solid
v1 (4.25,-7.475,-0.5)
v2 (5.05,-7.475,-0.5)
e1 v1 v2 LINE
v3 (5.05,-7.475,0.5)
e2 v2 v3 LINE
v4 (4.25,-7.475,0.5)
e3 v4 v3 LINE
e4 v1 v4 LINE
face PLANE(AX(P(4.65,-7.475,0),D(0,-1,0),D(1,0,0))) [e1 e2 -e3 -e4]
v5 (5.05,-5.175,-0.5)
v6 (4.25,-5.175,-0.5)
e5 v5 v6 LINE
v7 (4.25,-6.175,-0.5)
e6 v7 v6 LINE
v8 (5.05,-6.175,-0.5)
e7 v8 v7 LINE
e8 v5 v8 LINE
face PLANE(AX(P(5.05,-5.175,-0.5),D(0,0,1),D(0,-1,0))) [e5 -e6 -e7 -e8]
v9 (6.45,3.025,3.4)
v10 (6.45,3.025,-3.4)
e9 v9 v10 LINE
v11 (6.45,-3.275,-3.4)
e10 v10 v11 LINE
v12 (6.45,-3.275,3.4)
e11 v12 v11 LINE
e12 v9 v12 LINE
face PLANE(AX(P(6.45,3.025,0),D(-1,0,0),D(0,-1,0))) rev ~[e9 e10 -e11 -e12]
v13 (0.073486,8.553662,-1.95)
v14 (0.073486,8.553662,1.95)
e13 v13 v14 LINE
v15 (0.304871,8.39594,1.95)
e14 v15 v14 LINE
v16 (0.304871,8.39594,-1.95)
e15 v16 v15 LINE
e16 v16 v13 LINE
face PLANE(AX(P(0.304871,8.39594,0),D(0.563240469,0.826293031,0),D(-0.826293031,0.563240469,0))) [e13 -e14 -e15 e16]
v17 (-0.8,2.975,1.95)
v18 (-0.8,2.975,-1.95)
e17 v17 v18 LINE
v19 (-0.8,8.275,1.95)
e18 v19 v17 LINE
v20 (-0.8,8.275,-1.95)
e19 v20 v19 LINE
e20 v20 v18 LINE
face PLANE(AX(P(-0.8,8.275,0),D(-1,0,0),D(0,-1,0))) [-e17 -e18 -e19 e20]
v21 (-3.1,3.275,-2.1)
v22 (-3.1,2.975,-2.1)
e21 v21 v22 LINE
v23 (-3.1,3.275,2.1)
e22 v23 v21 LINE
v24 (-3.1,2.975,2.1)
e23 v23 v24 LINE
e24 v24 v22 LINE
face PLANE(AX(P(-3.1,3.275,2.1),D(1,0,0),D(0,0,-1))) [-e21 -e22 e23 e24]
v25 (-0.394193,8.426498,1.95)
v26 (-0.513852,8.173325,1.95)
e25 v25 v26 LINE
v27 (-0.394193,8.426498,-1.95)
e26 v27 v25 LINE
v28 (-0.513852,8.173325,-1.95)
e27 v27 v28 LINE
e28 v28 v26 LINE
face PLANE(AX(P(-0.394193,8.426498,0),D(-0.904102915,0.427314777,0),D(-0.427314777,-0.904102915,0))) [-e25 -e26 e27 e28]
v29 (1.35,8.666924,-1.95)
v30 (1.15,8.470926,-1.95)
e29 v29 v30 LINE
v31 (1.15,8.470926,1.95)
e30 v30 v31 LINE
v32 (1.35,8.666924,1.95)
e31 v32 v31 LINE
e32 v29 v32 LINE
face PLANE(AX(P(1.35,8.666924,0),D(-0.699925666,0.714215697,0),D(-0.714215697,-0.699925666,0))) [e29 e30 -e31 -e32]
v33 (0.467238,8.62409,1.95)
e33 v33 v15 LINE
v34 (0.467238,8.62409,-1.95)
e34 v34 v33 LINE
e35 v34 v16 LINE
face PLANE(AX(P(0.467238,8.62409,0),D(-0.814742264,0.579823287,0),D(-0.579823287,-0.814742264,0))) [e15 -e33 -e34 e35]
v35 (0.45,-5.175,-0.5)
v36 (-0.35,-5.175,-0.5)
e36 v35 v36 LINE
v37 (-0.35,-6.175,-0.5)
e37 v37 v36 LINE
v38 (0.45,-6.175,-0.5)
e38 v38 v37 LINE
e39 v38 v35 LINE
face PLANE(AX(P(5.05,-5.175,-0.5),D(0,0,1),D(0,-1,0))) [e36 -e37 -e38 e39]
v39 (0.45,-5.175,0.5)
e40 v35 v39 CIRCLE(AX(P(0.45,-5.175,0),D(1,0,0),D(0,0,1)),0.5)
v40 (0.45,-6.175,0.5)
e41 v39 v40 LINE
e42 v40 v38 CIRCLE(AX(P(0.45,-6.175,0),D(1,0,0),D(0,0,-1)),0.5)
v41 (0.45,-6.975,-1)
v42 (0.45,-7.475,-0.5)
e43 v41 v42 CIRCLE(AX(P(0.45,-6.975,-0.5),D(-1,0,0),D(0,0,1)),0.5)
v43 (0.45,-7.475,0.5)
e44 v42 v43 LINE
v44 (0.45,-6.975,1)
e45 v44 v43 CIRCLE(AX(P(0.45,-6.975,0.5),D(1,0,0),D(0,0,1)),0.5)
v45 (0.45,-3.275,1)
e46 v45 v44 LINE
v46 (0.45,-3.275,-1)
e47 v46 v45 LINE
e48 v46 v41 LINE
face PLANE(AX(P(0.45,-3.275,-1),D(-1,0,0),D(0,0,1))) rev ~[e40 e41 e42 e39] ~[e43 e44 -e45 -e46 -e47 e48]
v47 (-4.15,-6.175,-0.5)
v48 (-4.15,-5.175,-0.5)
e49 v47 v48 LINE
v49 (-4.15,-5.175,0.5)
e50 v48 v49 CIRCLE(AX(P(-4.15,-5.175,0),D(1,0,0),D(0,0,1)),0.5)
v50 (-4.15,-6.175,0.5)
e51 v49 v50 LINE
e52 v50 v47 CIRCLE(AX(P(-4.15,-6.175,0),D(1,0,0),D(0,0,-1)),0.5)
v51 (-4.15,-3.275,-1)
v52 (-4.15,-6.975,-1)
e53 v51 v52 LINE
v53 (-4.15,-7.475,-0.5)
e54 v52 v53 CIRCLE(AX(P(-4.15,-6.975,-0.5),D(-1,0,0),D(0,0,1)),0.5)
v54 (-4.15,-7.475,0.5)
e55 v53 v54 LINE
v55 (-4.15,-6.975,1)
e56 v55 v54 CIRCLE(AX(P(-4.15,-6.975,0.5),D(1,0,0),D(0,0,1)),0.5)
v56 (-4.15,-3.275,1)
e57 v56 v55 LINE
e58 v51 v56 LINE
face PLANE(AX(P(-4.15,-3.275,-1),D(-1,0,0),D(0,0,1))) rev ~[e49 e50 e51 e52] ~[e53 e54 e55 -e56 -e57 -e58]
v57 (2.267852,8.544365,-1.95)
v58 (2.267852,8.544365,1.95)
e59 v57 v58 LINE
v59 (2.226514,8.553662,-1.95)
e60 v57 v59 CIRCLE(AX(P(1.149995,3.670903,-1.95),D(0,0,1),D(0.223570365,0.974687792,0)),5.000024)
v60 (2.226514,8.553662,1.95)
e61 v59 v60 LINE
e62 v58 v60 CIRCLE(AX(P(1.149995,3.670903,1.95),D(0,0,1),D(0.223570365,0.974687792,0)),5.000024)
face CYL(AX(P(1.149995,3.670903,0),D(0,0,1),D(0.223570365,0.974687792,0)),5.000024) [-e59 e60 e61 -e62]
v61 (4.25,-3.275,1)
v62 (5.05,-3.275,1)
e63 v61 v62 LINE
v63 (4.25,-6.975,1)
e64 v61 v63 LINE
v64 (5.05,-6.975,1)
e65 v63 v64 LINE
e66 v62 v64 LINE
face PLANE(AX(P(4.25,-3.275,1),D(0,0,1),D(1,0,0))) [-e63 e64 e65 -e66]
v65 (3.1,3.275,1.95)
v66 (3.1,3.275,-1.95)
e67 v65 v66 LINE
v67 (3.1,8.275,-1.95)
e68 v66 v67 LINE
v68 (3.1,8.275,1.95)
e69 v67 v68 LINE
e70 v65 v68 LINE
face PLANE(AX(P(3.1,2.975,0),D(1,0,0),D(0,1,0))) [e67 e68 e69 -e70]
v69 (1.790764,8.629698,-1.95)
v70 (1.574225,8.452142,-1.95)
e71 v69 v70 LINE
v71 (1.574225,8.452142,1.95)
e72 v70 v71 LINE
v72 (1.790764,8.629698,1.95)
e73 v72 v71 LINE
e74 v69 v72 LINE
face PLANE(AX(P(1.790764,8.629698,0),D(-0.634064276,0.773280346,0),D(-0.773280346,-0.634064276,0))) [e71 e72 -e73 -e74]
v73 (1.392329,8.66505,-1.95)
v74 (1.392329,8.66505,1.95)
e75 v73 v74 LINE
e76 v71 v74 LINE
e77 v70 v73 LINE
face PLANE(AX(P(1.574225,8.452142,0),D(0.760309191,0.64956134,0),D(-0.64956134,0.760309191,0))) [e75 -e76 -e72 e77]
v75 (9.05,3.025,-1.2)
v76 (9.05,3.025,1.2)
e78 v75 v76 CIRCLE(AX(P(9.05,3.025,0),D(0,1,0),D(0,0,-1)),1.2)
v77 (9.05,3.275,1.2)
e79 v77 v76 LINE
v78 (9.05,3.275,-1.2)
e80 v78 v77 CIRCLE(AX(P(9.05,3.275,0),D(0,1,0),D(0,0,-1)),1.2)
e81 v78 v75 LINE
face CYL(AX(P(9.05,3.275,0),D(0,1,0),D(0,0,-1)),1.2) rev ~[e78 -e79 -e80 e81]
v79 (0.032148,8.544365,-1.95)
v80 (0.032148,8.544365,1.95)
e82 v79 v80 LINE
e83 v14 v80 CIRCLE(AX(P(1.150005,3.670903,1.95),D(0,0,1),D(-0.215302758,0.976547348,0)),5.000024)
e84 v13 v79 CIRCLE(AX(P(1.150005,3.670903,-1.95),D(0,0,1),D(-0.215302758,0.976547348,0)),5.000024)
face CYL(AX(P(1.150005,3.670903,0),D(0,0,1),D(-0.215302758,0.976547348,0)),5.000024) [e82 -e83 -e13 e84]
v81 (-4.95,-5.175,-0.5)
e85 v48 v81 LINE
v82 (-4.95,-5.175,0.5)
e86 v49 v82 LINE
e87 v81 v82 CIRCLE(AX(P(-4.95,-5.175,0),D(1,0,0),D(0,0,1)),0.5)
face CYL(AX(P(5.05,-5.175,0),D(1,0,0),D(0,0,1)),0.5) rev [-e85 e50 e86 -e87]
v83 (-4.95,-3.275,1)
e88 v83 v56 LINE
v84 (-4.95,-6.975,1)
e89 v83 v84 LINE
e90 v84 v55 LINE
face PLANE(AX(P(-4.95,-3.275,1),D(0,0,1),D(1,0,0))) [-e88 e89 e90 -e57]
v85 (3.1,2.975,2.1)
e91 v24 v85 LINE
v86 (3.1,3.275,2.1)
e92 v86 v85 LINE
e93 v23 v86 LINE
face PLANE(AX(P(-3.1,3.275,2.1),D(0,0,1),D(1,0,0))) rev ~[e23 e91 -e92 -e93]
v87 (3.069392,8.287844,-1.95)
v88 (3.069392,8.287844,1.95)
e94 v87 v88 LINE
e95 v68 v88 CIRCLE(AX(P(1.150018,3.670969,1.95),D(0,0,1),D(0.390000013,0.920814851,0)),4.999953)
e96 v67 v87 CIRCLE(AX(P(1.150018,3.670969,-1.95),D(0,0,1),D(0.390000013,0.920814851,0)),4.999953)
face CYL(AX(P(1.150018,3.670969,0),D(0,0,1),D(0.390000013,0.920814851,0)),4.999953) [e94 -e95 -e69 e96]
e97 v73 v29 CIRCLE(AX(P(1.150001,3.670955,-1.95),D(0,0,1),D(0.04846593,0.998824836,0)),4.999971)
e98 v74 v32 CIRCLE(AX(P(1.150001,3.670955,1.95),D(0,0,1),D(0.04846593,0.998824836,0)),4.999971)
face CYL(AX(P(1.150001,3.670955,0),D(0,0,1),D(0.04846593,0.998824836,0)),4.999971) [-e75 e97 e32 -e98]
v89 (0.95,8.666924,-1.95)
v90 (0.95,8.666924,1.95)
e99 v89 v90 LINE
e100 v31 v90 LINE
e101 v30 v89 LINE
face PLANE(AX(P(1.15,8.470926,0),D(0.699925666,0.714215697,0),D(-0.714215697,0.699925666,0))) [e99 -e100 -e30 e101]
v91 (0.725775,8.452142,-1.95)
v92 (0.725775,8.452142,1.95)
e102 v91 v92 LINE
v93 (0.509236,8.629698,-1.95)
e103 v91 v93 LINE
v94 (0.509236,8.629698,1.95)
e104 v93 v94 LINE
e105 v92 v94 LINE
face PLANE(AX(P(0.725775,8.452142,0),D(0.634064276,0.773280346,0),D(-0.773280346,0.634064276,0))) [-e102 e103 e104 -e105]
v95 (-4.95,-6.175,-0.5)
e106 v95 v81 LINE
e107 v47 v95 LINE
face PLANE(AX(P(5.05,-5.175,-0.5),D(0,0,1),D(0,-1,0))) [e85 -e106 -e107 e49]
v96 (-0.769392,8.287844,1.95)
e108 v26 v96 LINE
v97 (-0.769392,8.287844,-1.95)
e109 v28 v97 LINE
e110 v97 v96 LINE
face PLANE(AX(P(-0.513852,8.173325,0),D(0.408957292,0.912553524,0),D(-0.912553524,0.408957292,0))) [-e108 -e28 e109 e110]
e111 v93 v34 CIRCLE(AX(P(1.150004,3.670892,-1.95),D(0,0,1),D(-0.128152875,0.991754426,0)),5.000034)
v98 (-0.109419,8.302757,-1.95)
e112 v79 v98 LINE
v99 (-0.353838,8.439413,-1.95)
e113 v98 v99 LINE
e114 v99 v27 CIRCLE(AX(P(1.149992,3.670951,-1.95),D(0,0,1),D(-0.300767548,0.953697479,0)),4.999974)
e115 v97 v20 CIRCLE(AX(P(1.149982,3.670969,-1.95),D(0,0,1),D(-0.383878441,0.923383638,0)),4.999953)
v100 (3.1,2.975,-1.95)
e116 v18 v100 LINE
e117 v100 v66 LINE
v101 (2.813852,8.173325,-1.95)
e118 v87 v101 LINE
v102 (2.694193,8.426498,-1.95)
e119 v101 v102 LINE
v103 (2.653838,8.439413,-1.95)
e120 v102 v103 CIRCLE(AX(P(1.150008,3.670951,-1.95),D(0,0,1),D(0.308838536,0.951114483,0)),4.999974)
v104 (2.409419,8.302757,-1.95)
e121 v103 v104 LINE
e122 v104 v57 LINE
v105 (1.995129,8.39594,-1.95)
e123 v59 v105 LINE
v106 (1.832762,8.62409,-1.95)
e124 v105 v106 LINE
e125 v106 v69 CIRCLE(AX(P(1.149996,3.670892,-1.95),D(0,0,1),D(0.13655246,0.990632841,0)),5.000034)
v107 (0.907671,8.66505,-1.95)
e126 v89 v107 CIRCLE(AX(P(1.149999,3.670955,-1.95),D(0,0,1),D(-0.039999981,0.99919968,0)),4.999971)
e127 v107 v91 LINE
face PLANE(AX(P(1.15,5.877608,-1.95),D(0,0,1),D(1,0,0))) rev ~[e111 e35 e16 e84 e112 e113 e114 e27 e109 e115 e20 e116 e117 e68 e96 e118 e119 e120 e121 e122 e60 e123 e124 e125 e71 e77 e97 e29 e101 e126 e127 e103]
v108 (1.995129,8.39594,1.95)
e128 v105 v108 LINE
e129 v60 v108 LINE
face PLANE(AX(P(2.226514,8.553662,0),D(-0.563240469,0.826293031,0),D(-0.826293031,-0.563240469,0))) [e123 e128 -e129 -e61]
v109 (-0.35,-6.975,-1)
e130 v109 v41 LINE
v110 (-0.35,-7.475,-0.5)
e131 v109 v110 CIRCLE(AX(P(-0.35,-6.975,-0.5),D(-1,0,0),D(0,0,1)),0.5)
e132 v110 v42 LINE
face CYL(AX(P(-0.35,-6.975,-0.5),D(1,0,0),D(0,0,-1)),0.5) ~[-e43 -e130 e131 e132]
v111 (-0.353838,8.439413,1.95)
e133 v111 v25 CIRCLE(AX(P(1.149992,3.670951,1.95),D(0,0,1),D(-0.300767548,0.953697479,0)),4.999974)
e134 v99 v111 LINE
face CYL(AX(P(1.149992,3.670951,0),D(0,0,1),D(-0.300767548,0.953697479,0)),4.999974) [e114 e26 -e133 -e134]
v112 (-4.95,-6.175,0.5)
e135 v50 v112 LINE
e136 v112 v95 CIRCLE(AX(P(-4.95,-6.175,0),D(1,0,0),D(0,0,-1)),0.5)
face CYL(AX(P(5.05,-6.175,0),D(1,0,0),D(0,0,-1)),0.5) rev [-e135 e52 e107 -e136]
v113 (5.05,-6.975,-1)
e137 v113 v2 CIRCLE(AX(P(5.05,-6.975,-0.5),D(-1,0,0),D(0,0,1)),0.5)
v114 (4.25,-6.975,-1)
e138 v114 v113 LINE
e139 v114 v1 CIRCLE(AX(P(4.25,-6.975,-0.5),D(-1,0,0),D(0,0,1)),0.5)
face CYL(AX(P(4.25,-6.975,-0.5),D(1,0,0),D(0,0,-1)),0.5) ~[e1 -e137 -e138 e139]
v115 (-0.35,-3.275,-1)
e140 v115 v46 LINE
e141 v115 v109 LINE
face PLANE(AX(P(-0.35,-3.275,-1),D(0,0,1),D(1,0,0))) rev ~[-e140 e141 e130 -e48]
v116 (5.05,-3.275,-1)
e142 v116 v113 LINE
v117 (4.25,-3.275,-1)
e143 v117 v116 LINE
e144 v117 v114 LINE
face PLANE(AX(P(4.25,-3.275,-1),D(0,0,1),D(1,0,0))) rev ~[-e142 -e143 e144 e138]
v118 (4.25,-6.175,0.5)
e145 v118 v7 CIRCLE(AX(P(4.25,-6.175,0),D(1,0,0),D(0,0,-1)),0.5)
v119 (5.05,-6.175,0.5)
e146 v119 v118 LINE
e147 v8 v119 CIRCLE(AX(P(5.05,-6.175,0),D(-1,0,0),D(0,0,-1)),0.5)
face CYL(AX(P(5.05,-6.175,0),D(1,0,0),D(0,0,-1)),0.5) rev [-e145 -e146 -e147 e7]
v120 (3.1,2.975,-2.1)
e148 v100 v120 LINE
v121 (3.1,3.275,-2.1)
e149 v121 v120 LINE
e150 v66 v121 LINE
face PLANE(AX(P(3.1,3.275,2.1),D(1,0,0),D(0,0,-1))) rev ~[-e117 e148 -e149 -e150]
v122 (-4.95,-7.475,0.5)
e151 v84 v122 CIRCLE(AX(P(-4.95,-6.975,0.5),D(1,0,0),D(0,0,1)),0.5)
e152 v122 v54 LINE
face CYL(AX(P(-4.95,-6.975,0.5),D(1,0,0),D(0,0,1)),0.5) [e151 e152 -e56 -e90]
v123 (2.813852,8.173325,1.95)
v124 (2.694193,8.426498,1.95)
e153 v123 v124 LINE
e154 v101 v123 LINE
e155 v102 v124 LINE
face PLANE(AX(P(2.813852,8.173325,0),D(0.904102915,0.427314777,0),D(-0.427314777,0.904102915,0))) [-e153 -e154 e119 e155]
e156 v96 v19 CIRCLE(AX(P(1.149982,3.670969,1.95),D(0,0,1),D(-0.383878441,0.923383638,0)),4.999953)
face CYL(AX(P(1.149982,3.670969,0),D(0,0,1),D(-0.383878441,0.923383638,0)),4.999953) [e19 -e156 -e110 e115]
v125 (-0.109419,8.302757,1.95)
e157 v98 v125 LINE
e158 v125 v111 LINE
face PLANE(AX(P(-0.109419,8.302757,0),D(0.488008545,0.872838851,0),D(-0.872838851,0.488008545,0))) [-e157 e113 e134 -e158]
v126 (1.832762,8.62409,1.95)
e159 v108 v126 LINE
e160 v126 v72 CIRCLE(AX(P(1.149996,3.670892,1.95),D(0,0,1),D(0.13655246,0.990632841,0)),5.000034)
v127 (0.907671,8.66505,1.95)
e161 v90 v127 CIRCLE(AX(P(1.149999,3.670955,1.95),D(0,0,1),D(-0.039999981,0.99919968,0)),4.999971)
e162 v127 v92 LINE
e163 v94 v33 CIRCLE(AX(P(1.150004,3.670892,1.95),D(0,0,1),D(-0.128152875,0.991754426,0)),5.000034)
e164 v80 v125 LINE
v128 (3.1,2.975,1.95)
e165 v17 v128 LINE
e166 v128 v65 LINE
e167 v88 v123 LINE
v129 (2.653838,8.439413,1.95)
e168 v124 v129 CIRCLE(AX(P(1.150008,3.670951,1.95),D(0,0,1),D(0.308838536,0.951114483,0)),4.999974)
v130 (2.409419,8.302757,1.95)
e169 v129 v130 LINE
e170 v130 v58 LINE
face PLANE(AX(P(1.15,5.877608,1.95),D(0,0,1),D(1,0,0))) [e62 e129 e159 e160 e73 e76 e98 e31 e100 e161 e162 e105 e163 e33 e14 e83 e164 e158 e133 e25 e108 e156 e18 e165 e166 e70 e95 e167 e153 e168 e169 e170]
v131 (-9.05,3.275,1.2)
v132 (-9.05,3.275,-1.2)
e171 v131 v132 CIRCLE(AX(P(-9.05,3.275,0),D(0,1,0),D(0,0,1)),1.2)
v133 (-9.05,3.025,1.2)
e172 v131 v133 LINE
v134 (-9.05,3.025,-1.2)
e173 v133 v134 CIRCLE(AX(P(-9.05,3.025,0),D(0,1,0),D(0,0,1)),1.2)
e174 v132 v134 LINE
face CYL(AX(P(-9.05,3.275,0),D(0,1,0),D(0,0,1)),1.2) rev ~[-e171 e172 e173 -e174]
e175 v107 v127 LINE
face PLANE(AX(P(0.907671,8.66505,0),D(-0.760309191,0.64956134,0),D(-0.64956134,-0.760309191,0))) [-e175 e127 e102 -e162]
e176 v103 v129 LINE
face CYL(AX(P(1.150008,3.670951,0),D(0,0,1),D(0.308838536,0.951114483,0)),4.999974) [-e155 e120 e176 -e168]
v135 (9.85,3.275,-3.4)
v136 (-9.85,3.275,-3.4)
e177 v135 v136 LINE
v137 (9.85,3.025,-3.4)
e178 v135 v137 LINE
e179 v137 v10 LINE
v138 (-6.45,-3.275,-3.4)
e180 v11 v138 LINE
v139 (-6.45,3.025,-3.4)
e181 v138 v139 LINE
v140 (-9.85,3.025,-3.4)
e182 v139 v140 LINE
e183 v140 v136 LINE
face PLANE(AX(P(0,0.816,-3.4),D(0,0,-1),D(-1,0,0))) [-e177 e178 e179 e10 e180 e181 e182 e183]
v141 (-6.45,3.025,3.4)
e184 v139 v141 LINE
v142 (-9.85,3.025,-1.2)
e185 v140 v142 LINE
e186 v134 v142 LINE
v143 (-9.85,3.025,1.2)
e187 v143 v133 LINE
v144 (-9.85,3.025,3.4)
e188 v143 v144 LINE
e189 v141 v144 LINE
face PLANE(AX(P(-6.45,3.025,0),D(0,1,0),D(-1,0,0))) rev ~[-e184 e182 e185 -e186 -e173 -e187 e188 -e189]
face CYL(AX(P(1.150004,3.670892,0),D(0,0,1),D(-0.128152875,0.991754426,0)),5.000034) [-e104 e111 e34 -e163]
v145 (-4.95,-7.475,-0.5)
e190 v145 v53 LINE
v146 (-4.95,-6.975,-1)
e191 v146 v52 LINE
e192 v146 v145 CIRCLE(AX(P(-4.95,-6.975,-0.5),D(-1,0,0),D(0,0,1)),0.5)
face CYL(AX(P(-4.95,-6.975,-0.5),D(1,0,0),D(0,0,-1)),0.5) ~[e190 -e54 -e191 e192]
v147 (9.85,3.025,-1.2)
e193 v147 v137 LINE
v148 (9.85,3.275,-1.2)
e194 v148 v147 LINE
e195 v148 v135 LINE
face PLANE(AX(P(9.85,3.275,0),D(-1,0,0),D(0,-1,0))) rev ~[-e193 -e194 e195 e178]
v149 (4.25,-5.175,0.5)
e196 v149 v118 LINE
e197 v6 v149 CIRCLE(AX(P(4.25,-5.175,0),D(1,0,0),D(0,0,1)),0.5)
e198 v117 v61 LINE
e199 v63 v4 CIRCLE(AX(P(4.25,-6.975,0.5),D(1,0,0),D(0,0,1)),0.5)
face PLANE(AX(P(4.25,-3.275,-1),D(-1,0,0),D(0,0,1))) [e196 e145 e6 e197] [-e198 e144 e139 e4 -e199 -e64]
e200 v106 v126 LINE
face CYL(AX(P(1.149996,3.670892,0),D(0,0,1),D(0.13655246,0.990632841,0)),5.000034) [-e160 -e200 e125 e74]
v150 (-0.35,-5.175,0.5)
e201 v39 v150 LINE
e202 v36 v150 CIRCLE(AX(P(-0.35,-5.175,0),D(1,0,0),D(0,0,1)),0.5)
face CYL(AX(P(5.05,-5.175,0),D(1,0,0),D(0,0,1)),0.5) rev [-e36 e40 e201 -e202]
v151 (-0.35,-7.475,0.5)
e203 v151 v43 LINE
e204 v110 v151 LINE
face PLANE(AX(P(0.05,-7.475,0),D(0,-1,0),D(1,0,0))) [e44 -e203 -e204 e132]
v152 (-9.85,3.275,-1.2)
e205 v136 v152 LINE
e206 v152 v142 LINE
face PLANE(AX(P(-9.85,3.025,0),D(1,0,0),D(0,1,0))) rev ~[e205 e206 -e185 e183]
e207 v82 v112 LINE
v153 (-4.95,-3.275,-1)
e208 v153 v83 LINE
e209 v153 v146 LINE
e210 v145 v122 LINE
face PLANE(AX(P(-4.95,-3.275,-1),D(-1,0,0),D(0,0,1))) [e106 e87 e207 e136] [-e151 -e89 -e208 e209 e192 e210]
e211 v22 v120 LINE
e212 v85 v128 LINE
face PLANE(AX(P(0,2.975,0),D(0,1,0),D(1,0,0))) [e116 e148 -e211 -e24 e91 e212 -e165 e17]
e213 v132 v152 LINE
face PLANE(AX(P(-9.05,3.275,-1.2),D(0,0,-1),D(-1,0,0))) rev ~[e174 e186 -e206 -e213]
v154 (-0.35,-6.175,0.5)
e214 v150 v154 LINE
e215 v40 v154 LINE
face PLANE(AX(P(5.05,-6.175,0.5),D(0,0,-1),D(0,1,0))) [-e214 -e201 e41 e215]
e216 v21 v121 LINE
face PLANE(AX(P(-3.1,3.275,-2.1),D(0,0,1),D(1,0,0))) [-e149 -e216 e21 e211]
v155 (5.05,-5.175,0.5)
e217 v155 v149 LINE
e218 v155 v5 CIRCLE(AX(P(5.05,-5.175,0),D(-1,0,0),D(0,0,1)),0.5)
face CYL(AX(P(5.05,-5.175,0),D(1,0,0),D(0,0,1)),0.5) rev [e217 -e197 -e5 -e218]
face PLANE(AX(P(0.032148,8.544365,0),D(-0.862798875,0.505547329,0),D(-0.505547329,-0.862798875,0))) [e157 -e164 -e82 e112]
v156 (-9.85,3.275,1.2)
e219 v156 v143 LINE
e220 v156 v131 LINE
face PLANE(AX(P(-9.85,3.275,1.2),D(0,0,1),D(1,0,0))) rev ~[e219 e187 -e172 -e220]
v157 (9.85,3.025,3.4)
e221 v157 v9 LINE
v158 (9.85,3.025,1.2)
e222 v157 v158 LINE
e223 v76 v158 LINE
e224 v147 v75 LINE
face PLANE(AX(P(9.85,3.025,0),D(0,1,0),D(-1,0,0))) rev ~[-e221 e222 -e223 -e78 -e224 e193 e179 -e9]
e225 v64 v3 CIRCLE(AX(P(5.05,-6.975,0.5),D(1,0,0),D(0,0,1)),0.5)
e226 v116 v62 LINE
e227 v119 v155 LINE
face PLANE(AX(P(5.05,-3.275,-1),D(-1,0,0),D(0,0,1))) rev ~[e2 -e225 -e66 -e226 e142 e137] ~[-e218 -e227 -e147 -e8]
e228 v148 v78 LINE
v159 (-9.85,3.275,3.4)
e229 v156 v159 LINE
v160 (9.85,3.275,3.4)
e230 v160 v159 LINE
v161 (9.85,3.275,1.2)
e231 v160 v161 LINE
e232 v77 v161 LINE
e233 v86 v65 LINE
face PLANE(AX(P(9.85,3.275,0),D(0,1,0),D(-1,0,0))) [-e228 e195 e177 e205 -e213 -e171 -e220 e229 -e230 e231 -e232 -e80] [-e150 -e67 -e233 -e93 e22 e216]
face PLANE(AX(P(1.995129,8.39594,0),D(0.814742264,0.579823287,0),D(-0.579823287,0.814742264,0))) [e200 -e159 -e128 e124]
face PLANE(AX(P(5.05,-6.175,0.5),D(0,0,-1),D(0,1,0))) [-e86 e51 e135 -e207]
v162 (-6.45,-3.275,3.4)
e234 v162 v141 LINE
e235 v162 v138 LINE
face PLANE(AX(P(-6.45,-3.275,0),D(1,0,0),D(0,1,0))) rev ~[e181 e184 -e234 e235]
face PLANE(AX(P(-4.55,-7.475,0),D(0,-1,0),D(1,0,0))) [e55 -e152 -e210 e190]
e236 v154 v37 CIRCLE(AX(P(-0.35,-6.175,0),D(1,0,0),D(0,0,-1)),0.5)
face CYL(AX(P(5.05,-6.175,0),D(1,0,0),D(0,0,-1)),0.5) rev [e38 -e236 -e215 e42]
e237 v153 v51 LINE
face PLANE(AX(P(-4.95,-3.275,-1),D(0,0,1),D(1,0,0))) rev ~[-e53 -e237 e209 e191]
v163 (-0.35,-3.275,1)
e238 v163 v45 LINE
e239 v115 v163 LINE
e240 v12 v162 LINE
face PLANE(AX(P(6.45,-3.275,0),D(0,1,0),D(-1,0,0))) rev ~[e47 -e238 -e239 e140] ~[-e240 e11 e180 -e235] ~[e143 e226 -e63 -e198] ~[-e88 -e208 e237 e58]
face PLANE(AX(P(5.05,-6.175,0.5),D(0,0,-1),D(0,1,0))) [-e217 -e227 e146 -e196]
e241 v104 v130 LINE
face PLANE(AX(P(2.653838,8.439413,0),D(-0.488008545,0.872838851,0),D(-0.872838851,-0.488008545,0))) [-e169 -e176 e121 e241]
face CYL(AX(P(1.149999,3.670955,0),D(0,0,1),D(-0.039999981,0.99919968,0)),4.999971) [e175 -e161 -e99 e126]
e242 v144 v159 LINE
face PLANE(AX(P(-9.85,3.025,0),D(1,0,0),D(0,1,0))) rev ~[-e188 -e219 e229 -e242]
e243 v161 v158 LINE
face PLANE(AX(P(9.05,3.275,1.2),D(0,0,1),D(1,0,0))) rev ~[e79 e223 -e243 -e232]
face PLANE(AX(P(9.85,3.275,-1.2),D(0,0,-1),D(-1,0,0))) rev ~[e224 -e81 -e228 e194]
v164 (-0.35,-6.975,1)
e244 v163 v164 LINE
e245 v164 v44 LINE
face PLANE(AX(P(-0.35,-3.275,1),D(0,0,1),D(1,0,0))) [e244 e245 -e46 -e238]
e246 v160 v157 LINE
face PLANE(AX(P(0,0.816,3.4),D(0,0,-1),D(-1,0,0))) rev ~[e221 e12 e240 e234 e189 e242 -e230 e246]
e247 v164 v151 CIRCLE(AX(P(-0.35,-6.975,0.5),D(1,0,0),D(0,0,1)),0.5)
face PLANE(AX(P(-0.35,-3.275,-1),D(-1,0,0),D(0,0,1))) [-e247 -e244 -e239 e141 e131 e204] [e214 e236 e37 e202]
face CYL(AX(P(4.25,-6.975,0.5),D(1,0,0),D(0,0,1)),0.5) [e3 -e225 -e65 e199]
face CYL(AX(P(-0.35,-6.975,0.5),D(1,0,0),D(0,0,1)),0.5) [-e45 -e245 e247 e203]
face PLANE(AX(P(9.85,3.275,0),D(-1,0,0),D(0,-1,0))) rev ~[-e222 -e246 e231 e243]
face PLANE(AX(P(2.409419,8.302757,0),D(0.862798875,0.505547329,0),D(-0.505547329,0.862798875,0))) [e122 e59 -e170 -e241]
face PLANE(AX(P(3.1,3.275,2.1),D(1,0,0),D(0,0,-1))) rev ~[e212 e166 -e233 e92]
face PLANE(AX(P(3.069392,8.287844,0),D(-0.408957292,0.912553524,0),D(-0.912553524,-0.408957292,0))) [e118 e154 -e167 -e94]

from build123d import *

# Parameters (mm, degrees)
BOSS_EXTRU_1_DEPTH      = 3.4
BOSS_EXTRU_1_DEPTH_BACK = 3.4
ENL_V_MAT_EXTRU_1_DEPTH = 6.8
ESQUISSE4_W             = 6.2
ESQUISSE4_H             = 4.2
ENL_V_MAT_EXTRU_2_DEPTH = 0.3
BOSS_EXTRU_2_DEPTH      = 1.95
BOSS_EXTRU_2_DEPTH_BACK = 1.95
ESQUISSE7_W             = 0.8
ESQUISSE7_H             = 2
BOSS_EXTRU_3_DEPTH      = 4.2
CONG_1_R                = 0.5
ENL_V_MAT_EXTRU_3_DEPTH = 10.2


with BuildPart() as part:
    # Esquisse1 → Boss.-Extru.1 (new, two sides: drawn at the far end of the back side and taken through both)
    with BuildSketch(Plane.XY.offset(-BOSS_EXTRU_1_DEPTH_BACK)):
        Polygon((-6.45, 3.275), (6.45, 3.275), (9.85, 3.275), (9.85, 3.025), (6.45, 3.025), (6.45, -3.275), (-6.45, -3.275), (-6.45, 3.025), (-9.85, 3.025), (-9.85, 3.275), align=None)
    extrude(amount=BOSS_EXTRU_1_DEPTH + BOSS_EXTRU_1_DEPTH_BACK)

    # Esquisse3 → Enlèv. mat.-Extru.1 (cut)
    with BuildSketch(Plane(origin=(0, 3.275, 0), x_dir=(1, 0, 0), z_dir=(0, 1, 0))):
        with BuildLine():
            Line((-9.05, 1.2), (-9.85, 1.2))
            Line((-9.85, 1.2), (-9.85, -1.2))
            Line((-9.85, -1.2), (-9.05, -1.2))
            ThreePointArc((-9.05, -1.2), (-7.85, 0), (-9.05, 1.2))
        make_face()
        with BuildLine():
            Line((9.05, -1.2), (9.85, -1.2))
            Line((9.85, -1.2), (9.85, 1.2))
            Line((9.85, 1.2), (9.05, 1.2))
            ThreePointArc((9.05, 1.2), (7.85, 0), (9.05, -1.2))
        make_face()
    extrude(amount=-ENL_V_MAT_EXTRU_1_DEPTH, mode=Mode.SUBTRACT)

    # Esquisse4 → Enlèv. mat.-Extru.2 (cut)
    with BuildSketch(Plane(origin=(0, 3.275, 0), x_dir=(1, 0, 0), z_dir=(0, 1, 0))):
        Rectangle(ESQUISSE4_W, ESQUISSE4_H)
    extrude(amount=-ENL_V_MAT_EXTRU_2_DEPTH, mode=Mode.SUBTRACT)

    # Esquisse6 → Boss.-Extru.2 (add, two sides: drawn at the far end of the back side and taken through both)
    with BuildSketch(Plane.XY.offset(-BOSS_EXTRU_2_DEPTH_BACK)):
        with BuildLine():
            Line((-0.8, 2.975), (3.1, 2.975))
            Line((3.1, 2.975), (3.1, 8.275))
            ThreePointArc((3.1, 8.275), (3.084706872, 8.281447306), (3.069392428, 8.287843813))
            Line((3.069392428, 8.287843813), (2.813852393, 8.173324546))
            Line((2.813852393, 8.173324546), (2.694192526, 8.426498179))
            ThreePointArc((2.694192526, 8.426498179), (2.674028844, 8.432998384), (2.6538378, 8.439413095))
            Line((2.6538378, 8.439413095), (2.409418963, 8.302757307))
            Line((2.409418963, 8.302757307), (2.267851834, 8.544364675))
            ThreePointArc((2.267851834, 8.544364675), (2.247192567, 8.549057375), (2.226513602, 8.553662498))
            Line((2.226513602, 8.553662498), (1.995128872, 8.395939706))
            Line((1.995128872, 8.395939706), (1.832762436, 8.624089904))
            ThreePointArc((1.832762436, 8.624089904), (1.811769271, 8.626938372), (1.790764225, 8.629697865))
            Line((1.790764225, 8.629697865), (1.574224502, 8.452142463))
            Line((1.574224502, 8.452142463), (1.392329497, 8.665049906))
            ThreePointArc((1.392329497, 8.665049906), (1.371166734, 8.66603185), (1.35, 8.666924116))
            Line((1.35, 8.666924116), (1.15, 8.470925717))
            Line((1.15, 8.470925717), (0.95, 8.666924116))
            ThreePointArc((0.95, 8.666924116), (0.928833266, 8.66603185), (0.907670503, 8.665049906))
            Line((0.907670503, 8.665049906), (0.725775498, 8.452142463))
            Line((0.725775498, 8.452142463), (0.509235775, 8.629697865))
            ThreePointArc((0.509235775, 8.629697865), (0.488230729, 8.626938372), (0.467237564, 8.624089904))
            Line((0.467237564, 8.624089904), (0.304871128, 8.395939706))
            Line((0.304871128, 8.395939706), (0.073486398, 8.553662498))
            ThreePointArc((0.073486398, 8.553662498), (0.052807433, 8.549057375), (0.032148166, 8.544364675))
            Line((0.032148166, 8.544364675), (-0.109418963, 8.302757307))
            Line((-0.109418963, 8.302757307), (-0.3538378, 8.439413095))
            ThreePointArc((-0.3538378, 8.439413095), (-0.374028844, 8.432998384), (-0.394192526, 8.426498179))
            Line((-0.394192526, 8.426498179), (-0.513852393, 8.173324546))
            Line((-0.513852393, 8.173324546), (-0.769392428, 8.287843813))
            ThreePointArc((-0.769392428, 8.287843813), (-0.784706872, 8.281447306), (-0.8, 8.275))
            Line((-0.8, 8.275), (-0.8, 2.975))
        make_face()
    extrude(amount=BOSS_EXTRU_2_DEPTH + BOSS_EXTRU_2_DEPTH_BACK)

    # Esquisse7 → Boss.-Extru.3 (add)
    with BuildSketch(Plane.XZ.offset(3.275)):
        with Locations((-4.55, 0)):
            Rectangle(ESQUISSE7_W, ESQUISSE7_H)
        with Locations((0.05, 0)):
            Rectangle(ESQUISSE7_W, ESQUISSE7_H)
        with Locations((4.65, 0)):
            Rectangle(ESQUISSE7_W, ESQUISSE7_H)
    extrude(amount=BOSS_EXTRU_3_DEPTH)

    # Congé1
    cong_1_edges = [part.edges().sort_by_distance(p)[0] for p in [
        (-4.55, -7.475, -1),
        (0.05, -7.475, -1),
        (4.65, -7.475, -1),
        (0.05, -7.475, 1),
        (4.65, -7.475, 1),
        (-4.55, -7.475, 1),
    ]]
    fillet(cong_1_edges, radius=CONG_1_R)

    # Esquisse8 → Enlèv. mat.-Extru.3 (cut)
    with BuildSketch(Plane(origin=(5.05, 0, 0), x_dir=(0, 0, -1), z_dir=(1, 0, 0))):
        with BuildLine():
            Line((0.5, -5.175), (0.5, -6.175))
            ThreePointArc((0.5, -6.175), (0, -6.675), (-0.5, -6.175))
            Line((-0.5, -6.175), (-0.5, -5.175))
            ThreePointArc((-0.5, -5.175), (0, -4.675), (0.5, -5.175))
        make_face()
    extrude(amount=-ENL_V_MAT_EXTRU_3_DEPTH, mode=Mode.SUBTRACT)


solid = part.part
